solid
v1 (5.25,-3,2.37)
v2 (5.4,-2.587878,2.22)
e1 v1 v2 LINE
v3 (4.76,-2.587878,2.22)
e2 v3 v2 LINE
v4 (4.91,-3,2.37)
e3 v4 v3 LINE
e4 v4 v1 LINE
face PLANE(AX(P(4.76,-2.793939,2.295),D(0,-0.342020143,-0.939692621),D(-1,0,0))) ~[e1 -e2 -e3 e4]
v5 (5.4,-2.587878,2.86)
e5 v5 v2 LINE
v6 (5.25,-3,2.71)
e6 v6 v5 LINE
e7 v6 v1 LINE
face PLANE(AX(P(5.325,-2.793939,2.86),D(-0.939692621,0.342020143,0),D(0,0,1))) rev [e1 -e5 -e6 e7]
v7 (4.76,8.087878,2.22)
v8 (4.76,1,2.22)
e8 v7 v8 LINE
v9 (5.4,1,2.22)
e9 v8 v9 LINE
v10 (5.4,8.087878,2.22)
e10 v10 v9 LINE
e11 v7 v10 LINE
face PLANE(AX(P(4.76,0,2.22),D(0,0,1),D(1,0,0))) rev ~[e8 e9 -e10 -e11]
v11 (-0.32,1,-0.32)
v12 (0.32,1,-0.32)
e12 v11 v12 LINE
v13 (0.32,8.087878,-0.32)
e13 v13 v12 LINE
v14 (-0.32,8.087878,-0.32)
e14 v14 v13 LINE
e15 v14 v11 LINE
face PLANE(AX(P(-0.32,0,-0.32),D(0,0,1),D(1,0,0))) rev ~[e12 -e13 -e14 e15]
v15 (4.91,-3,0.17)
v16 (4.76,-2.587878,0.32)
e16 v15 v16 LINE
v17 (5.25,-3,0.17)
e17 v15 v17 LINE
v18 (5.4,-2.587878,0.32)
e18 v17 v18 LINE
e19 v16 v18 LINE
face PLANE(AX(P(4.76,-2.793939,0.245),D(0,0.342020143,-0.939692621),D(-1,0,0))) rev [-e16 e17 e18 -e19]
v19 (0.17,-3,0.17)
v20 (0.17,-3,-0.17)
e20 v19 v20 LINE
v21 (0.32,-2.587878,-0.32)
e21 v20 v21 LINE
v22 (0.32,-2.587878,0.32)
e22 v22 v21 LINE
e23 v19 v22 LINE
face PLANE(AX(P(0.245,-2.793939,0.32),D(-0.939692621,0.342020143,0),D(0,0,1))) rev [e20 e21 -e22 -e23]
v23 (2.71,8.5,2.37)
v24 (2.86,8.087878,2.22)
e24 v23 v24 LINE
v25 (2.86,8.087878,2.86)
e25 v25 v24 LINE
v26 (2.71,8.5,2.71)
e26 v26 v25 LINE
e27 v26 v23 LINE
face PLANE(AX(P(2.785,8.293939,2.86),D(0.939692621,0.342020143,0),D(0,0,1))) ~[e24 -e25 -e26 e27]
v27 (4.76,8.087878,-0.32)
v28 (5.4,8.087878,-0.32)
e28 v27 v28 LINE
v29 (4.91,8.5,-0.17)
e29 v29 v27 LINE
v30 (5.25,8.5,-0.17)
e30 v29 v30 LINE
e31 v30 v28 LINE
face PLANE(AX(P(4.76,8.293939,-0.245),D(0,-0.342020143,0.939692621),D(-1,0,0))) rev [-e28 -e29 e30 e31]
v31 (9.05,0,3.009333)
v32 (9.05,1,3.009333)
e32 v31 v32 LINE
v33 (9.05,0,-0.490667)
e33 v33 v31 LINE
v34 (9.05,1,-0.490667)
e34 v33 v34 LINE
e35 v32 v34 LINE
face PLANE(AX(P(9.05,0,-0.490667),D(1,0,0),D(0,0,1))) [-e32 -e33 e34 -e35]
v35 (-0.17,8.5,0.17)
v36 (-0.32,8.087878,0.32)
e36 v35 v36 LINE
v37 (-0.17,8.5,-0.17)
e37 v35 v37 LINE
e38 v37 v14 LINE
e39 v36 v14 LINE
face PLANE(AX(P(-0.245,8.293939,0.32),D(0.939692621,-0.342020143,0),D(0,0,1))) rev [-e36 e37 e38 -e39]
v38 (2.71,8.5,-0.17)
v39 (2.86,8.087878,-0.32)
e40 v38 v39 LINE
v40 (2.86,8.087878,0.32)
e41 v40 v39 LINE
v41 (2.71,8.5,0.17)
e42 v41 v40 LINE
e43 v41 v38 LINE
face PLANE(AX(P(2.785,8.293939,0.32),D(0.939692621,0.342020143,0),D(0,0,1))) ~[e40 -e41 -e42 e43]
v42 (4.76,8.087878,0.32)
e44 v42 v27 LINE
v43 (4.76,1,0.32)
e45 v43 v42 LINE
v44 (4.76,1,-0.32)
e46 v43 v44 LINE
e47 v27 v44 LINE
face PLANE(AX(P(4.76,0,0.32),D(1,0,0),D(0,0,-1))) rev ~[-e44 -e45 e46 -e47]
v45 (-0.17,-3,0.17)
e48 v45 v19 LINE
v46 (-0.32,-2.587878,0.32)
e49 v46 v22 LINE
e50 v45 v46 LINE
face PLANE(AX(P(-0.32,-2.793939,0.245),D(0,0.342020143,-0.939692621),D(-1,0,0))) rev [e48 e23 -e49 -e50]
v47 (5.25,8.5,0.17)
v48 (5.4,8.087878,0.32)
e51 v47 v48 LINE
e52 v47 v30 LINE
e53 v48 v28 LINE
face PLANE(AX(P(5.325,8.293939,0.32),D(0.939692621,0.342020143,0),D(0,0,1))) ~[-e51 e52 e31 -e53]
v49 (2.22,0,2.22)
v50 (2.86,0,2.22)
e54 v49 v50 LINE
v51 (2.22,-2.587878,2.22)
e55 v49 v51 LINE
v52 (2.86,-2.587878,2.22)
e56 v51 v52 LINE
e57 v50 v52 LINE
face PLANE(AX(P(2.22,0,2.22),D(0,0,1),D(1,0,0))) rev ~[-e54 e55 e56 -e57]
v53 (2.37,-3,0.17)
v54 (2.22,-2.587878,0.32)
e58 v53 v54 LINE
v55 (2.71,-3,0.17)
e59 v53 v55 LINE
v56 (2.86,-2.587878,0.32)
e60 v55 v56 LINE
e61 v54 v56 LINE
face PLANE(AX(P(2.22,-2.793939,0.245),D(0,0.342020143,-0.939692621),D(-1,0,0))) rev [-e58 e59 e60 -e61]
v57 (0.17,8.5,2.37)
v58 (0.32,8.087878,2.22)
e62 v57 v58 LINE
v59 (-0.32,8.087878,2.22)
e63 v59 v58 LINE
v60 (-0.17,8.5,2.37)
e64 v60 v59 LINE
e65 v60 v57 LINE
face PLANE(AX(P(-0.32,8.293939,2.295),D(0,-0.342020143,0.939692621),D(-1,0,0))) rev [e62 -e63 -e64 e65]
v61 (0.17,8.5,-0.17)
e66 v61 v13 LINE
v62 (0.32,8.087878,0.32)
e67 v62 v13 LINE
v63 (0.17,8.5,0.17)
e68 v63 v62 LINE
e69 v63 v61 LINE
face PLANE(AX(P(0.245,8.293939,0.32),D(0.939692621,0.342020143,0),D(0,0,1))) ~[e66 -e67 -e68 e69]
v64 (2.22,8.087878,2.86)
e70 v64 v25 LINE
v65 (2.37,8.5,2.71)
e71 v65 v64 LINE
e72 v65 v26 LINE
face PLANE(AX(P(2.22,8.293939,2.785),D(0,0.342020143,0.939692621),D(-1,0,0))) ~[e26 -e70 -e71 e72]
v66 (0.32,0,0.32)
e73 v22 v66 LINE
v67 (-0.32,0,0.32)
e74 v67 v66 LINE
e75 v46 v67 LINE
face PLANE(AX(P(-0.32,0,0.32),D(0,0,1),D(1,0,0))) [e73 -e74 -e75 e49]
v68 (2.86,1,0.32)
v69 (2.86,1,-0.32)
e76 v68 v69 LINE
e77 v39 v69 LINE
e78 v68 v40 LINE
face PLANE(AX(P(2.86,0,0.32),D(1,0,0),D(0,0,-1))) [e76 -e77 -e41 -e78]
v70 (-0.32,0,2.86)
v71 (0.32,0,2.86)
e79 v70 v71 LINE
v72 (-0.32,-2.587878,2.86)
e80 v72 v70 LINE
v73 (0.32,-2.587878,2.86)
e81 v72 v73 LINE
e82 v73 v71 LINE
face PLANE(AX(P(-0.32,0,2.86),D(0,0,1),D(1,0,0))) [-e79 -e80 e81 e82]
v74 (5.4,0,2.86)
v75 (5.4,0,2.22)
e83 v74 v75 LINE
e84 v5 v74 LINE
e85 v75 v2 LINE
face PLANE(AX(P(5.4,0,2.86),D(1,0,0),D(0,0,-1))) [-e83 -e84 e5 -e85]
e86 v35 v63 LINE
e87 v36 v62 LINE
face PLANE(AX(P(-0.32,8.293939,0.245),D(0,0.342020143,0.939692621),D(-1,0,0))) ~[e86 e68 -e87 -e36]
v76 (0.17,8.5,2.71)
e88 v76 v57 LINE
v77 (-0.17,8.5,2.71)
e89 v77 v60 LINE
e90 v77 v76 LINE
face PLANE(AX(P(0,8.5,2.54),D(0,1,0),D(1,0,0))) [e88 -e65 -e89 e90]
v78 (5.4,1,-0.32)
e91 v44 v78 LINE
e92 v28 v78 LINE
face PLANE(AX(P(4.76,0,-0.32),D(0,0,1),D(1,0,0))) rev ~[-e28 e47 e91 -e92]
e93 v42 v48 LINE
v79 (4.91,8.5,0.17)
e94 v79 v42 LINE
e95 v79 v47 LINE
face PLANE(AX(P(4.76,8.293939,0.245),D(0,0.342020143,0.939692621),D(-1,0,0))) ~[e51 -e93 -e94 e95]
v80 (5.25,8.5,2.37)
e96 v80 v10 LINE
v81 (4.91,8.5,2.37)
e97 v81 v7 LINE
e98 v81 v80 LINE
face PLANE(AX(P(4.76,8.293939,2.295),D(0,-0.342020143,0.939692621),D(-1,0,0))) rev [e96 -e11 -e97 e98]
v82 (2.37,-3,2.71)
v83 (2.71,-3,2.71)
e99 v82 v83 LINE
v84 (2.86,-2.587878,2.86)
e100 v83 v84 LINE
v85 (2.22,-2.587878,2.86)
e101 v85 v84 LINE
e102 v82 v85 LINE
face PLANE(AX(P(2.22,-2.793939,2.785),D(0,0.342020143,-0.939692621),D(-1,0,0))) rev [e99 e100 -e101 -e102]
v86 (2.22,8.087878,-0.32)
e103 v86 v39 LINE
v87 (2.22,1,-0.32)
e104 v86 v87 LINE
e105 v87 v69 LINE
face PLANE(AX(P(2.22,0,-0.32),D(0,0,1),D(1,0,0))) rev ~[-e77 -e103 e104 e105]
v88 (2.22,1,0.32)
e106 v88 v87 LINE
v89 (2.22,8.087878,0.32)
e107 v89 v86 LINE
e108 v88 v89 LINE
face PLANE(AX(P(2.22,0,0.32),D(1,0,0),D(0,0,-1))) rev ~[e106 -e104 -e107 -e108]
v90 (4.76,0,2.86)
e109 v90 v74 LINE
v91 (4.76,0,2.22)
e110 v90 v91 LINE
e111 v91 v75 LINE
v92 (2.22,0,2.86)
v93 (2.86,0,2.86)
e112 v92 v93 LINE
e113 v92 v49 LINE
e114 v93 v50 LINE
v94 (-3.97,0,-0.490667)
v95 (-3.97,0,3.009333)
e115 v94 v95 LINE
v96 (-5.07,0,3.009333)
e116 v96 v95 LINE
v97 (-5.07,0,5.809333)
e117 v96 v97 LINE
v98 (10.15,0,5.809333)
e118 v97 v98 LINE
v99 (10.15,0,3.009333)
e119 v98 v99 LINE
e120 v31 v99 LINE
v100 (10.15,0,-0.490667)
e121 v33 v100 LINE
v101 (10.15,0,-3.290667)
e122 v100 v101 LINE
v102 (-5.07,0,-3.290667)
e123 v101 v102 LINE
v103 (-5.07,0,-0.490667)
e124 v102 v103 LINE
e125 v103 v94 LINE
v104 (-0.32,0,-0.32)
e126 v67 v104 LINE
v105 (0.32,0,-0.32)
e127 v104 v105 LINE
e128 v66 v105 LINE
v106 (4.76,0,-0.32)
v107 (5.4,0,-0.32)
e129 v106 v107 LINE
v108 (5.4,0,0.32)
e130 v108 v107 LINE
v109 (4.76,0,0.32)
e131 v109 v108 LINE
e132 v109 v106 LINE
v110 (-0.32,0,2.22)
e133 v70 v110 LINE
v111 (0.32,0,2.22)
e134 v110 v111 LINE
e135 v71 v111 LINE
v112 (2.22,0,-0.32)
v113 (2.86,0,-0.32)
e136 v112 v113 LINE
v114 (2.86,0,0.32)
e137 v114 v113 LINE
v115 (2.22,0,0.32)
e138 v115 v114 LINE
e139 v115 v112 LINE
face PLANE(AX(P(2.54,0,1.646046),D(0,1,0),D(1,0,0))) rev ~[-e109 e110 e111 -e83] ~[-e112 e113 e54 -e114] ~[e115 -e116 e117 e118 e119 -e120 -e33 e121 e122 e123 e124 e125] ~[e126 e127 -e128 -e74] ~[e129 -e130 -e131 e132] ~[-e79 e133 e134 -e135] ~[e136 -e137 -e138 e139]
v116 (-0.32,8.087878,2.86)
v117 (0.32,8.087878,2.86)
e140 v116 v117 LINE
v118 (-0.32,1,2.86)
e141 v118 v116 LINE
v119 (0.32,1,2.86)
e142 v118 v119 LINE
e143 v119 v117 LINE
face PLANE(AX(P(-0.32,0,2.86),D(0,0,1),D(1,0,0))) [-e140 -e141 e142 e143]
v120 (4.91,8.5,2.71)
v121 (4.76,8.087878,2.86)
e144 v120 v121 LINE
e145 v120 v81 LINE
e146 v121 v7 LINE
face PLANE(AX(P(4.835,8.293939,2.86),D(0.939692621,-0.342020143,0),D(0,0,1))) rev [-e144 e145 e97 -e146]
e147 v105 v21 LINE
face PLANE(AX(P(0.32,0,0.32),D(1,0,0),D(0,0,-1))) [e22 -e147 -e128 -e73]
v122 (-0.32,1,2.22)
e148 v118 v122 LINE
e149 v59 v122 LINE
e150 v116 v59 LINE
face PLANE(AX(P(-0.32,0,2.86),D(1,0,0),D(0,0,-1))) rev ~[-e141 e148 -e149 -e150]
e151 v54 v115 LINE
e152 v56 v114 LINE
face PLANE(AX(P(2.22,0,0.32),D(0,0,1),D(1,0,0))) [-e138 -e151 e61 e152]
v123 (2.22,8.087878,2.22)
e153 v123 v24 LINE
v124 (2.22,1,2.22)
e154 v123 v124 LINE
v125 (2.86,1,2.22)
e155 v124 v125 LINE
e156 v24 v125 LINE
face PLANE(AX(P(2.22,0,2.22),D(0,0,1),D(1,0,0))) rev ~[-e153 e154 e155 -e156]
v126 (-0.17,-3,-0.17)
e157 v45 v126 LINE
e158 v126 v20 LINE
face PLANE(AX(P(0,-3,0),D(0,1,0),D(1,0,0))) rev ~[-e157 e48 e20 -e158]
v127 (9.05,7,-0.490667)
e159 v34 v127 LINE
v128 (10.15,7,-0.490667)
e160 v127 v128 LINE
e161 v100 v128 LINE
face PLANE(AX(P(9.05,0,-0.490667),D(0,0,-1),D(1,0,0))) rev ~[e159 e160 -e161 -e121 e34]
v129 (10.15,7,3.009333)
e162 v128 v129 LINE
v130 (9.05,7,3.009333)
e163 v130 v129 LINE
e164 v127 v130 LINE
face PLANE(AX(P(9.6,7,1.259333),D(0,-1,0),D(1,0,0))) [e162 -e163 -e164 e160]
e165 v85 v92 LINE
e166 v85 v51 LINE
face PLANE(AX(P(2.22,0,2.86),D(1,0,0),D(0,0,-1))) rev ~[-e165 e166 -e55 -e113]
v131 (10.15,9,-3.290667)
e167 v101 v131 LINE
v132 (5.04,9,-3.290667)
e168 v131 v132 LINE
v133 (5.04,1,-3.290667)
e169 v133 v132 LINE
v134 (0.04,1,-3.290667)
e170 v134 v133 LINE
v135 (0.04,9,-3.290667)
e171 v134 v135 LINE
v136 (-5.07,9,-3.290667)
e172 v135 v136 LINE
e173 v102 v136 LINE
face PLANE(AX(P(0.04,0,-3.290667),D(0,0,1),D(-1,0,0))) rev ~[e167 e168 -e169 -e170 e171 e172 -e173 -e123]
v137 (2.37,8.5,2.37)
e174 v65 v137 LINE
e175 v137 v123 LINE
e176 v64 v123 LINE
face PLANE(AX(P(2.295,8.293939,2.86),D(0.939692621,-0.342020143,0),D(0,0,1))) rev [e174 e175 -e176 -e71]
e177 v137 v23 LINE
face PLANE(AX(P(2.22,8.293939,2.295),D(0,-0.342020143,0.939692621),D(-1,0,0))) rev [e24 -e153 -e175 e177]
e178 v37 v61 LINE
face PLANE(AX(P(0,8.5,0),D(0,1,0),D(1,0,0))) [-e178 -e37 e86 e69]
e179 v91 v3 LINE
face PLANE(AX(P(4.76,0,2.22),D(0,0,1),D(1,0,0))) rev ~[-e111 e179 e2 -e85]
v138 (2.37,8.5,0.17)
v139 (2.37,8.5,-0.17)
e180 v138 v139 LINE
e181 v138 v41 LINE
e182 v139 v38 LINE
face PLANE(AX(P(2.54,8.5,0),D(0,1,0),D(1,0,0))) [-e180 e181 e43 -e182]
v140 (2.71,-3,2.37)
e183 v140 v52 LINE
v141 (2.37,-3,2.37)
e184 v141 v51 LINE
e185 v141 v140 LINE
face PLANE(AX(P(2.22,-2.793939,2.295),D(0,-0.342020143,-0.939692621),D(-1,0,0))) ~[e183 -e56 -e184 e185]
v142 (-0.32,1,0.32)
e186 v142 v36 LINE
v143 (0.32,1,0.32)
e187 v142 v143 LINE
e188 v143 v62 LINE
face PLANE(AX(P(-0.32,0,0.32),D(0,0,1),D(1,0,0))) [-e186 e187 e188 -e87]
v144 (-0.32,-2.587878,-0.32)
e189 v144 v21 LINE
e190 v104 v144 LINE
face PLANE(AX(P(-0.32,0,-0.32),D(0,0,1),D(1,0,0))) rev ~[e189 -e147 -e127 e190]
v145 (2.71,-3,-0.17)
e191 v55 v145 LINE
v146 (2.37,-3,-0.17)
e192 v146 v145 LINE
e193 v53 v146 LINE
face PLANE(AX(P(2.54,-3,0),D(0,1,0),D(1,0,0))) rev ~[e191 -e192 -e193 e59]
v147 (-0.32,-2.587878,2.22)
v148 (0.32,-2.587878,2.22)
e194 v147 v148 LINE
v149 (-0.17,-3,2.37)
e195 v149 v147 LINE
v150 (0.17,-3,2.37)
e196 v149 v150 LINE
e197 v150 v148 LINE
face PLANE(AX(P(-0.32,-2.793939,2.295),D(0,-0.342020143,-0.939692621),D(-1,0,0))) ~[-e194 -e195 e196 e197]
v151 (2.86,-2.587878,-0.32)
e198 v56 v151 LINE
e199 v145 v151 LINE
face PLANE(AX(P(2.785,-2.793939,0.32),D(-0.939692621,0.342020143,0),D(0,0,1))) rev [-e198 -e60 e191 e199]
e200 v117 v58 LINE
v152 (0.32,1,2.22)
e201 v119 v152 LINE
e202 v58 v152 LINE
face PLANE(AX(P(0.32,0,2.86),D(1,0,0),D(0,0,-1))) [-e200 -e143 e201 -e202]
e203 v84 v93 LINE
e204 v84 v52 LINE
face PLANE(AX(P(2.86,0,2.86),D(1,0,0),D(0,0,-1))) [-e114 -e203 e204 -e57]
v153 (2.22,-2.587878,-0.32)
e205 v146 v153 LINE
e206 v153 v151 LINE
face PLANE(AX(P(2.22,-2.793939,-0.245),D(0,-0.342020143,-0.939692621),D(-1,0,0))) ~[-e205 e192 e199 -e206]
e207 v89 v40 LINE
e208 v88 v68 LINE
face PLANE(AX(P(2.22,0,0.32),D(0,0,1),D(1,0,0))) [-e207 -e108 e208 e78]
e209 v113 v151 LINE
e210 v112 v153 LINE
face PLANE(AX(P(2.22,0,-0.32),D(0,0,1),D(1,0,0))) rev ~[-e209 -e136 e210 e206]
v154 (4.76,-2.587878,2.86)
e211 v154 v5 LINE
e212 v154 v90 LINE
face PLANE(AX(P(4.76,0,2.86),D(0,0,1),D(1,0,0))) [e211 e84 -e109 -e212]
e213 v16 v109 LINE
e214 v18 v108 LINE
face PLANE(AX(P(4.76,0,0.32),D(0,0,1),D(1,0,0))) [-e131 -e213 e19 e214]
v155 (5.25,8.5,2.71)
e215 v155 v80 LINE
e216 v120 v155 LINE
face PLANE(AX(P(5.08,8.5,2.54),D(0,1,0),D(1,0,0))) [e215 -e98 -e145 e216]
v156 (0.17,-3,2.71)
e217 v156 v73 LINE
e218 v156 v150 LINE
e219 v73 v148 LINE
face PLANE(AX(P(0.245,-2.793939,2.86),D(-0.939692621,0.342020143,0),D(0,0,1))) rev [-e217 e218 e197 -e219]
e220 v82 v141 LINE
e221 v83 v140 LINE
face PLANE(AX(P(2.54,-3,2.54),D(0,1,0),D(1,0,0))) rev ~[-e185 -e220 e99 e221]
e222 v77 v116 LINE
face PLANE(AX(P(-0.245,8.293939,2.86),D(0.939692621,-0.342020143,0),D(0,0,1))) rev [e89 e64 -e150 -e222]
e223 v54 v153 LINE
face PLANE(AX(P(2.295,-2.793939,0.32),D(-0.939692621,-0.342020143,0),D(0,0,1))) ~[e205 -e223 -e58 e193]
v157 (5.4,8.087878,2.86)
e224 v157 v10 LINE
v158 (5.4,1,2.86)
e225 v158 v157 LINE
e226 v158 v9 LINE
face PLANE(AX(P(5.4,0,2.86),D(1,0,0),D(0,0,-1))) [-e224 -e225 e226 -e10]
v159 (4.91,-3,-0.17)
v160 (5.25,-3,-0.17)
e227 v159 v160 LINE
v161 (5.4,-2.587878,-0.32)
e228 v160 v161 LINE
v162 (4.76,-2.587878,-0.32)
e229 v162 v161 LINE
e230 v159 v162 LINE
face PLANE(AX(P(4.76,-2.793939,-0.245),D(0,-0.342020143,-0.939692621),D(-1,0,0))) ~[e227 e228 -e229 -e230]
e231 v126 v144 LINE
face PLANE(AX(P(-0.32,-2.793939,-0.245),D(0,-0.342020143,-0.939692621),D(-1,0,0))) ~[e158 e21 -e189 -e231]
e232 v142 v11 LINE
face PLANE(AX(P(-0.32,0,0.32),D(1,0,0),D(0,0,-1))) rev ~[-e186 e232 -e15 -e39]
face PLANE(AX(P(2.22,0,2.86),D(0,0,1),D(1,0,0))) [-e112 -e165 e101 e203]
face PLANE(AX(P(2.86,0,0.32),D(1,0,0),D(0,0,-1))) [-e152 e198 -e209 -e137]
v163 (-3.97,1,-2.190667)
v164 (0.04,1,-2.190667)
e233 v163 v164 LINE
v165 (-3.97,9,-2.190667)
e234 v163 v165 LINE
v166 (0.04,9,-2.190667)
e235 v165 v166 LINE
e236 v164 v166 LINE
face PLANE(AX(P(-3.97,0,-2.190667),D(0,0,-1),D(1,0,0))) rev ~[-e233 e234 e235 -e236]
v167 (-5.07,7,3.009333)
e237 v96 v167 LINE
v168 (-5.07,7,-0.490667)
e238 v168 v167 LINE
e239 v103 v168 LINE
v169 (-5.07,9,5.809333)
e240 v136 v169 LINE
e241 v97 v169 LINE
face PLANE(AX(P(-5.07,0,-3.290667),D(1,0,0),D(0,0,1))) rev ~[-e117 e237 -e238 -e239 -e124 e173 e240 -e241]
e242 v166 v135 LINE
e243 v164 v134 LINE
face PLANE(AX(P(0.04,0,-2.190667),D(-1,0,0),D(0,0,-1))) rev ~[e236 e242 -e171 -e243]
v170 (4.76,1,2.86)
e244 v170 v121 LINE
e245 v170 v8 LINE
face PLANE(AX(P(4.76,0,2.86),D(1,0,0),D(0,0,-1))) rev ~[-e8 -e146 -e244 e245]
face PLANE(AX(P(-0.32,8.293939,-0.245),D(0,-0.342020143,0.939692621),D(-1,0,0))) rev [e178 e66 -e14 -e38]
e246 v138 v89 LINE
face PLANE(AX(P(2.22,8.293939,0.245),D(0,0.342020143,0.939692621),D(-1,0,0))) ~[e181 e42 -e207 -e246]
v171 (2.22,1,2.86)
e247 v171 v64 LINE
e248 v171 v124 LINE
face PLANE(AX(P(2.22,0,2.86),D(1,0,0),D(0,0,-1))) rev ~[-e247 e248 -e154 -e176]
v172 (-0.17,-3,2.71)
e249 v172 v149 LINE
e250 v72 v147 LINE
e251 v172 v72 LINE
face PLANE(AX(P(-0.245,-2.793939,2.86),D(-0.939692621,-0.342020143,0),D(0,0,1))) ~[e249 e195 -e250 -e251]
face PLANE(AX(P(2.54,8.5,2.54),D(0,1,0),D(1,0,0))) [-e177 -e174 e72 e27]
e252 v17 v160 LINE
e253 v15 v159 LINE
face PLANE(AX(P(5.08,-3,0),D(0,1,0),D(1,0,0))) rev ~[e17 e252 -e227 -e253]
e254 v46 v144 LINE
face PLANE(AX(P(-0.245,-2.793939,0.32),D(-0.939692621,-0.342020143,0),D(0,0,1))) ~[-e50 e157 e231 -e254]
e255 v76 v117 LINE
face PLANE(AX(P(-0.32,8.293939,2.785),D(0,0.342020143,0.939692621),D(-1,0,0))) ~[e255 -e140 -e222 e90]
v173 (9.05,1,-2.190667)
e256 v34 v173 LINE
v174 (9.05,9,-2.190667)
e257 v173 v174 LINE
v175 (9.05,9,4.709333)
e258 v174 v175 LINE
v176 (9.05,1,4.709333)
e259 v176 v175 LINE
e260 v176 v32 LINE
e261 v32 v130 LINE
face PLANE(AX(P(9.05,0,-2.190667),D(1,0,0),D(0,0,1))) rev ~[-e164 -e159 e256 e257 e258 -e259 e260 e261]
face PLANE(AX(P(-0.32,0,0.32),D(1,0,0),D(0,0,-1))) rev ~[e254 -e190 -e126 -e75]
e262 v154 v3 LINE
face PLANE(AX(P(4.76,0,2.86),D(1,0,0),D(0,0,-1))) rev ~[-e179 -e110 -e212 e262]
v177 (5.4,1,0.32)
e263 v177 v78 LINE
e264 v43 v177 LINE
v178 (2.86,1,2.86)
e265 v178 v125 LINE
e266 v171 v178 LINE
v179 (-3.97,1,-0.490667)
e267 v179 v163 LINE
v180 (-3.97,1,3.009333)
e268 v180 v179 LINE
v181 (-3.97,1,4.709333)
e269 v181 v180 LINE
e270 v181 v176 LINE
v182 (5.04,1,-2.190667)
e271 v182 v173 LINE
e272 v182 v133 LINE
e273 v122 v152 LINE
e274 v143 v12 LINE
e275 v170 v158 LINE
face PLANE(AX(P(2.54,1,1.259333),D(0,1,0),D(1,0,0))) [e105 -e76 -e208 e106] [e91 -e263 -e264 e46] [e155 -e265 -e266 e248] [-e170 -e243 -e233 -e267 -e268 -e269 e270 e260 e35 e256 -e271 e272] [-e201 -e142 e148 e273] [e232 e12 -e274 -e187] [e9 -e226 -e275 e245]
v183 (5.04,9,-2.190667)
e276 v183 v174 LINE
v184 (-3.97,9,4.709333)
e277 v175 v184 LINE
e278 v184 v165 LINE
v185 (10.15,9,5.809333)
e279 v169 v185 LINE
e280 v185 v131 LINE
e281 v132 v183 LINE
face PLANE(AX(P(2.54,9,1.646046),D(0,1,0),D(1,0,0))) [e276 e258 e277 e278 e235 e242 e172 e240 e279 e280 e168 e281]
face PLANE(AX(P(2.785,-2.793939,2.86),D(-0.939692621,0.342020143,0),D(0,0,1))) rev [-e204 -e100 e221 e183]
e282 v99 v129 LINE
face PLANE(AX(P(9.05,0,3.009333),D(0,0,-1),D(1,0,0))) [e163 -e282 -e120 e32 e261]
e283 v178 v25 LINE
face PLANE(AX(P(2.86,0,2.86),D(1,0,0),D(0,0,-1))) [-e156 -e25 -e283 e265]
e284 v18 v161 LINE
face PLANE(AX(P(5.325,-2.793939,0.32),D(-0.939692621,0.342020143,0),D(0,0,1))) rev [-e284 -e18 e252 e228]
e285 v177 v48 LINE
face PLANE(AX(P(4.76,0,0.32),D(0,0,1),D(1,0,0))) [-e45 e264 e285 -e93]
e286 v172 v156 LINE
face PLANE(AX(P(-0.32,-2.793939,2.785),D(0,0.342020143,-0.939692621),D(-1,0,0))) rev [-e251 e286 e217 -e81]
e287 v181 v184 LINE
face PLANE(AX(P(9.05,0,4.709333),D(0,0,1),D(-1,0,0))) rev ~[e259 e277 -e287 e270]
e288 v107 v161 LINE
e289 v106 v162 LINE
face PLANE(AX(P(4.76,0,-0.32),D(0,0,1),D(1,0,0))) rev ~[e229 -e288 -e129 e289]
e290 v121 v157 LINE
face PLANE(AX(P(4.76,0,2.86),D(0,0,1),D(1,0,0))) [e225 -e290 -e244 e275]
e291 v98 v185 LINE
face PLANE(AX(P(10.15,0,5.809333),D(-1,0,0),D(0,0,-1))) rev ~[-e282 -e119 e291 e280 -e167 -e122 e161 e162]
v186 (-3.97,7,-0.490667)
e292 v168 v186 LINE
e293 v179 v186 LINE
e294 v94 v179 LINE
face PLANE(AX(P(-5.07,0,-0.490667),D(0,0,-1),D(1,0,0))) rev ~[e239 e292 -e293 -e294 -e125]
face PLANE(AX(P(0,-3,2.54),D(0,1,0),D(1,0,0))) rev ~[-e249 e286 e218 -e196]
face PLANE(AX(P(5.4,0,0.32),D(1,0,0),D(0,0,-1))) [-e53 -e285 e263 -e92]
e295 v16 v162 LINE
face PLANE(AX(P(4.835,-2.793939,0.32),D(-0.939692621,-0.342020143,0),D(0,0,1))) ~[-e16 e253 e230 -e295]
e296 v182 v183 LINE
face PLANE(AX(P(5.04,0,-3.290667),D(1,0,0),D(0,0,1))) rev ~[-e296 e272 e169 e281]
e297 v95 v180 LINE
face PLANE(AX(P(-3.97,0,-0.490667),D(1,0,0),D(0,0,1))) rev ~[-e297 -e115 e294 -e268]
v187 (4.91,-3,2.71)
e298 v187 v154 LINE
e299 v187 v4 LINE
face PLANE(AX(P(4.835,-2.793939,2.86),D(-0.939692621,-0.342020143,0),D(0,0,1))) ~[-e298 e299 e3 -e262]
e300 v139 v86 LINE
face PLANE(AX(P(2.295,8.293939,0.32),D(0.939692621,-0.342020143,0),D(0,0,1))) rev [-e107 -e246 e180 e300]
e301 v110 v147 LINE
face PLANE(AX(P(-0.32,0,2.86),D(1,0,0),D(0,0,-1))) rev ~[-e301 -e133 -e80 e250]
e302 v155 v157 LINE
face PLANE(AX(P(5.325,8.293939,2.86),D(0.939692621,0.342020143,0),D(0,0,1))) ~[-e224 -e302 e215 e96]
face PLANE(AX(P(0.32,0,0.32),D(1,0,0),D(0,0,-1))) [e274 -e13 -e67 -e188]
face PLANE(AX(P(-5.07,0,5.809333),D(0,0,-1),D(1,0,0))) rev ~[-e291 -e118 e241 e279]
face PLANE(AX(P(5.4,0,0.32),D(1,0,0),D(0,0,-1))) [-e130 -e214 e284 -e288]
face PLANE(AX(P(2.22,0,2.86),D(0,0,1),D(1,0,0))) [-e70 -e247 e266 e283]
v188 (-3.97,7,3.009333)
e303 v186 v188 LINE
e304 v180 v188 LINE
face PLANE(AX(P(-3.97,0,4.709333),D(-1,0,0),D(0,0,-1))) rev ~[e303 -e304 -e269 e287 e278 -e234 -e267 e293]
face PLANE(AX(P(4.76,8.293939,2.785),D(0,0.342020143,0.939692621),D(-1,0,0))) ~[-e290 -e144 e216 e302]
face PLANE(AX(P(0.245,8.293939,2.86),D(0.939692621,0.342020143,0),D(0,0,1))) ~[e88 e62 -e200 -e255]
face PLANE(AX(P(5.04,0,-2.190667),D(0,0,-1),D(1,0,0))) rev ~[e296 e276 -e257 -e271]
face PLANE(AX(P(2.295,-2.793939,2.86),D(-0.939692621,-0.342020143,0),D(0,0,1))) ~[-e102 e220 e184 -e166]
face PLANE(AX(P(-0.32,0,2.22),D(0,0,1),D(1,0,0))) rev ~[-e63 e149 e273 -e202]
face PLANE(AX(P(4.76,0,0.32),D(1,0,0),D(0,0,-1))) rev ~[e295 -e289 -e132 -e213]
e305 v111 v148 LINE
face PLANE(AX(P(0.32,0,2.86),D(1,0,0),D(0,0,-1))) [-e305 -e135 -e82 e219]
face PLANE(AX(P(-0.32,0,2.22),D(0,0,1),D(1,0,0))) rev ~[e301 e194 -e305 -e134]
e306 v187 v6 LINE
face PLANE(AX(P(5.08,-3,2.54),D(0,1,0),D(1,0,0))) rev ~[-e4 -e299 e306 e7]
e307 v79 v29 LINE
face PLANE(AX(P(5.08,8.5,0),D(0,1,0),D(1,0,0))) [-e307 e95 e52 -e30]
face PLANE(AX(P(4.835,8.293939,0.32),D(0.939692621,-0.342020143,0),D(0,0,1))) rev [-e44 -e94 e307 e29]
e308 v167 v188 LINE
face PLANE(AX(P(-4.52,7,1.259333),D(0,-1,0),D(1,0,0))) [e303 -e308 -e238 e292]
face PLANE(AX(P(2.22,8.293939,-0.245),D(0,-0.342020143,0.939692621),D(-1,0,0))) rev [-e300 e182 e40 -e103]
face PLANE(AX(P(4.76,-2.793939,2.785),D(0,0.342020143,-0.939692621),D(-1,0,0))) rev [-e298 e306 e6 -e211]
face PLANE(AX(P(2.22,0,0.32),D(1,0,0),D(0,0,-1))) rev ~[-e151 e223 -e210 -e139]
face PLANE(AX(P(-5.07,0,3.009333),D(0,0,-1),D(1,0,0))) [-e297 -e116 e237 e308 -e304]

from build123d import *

# Parameters (mm, degrees)
SKETCH_1_W               = 0.64
SKETCH_1_H               = 0.64
EXTRUDE_1_DEPTH          = 8.5
EXTRUDE_1_DEPTH_BACK     = 3
CHAMFER_1_SIZE           = 0.15
CHAMFER_1_SIZE2          = 0.412121613
CHAMFER_1_PART_2_SIZE    = 0.15
CHAMFER_1_PART_2_SIZE2   = 0.412121613
PATTERN_LINEAR_1_COUNT   = 3
PATTERN_LINEAR_1_PITCH   = 2.54
PATTERN_LINEAR_1_2_COUNT = 2
PATTERN_LINEAR_1_2_PITCH = 2.54
SKETCH_2_W               = 13.02
SKETCH_2_H               = 6.9
SKETCH_2_W_2             = 0.64
SKETCH_2_H_2             = 0.64
SKETCH_2_W_3             = 5
SKETCH_2_H_3             = 1.1
EXTRUDE_2_DEPTH          = 1
EXTRUDE_3_DEPTH          = 9
SKETCH_3_W               = 1.1
SKETCH_3_H               = 3.5
CUT_EXTRUDE_2_DEPTH      = 7


with BuildPart() as part:
    # Эскиз1 → Бобышка-Вытянуть1 (new body, two sides)
    with BuildSketch(Plane(origin=(0, 0, 0), x_dir=(1, 0, 0), z_dir=(0, 1, 0))) as extrude_1_sk:
        Rectangle(SKETCH_1_W, SKETCH_1_H)
    extrude(amount=EXTRUDE_1_DEPTH)
    extrude(extrude_1_sk.sketch, amount=-EXTRUDE_1_DEPTH_BACK)

    # Фаска1
    chamfer_1_edges = [part.edges().sort_by_distance(p)[0] for p in [
        (0.32, -3, 0),
        (0, -3, 0.32),
        (-0.32, -3, 0),
        (0, -3, -0.32),
    ]]
    chamfer_1_side = [part.faces().sort_by_distance(p)[0] for p in [
        (0, -3, 0),
    ]]
    chamfer(chamfer_1_edges, length=CHAMFER_1_SIZE, length2=CHAMFER_1_SIZE2, reference=chamfer_1_side[0])

    # Фаска1 part 2
    chamfer_1_part_2_edges = [part.edges().sort_by_distance(p)[0] for p in [
        (-0.32, 8.5, 0),
        (0, 8.5, -0.32),
        (0, 8.5, 0.32),
        (0.32, 8.5, 0),
    ]]
    chamfer_1_part_2_side = [part.faces().sort_by_distance(p)[0] for p in [
        (0, 8.5, 0),
    ]]
    chamfer(chamfer_1_part_2_edges, length=CHAMFER_1_PART_2_SIZE, length2=CHAMFER_1_PART_2_SIZE2, reference=chamfer_1_part_2_side[0])


with BuildPart() as pattern_linear_1_1:
    # Линейный массив1: pattern copy
    add(part.part.moved(Location(Vector(1, 0, 0) * (1 * PATTERN_LINEAR_1_PITCH))))


with BuildPart() as pattern_linear_1_2:
    # Линейный массив1: pattern copy
    add(part.part.moved(Location(Vector(1, 0, 0) * (2 * PATTERN_LINEAR_1_PITCH))))


with BuildPart() as pattern_linear_1_2_1:
    # Pattern Linear 1 2: pattern copy
    add(part.part.moved(Location(Vector(0, 0, 1) * (1 * PATTERN_LINEAR_1_2_PITCH))))


with BuildPart() as pattern_linear_1_2_2:
    # Pattern Linear 1 2: pattern copy
    add(pattern_linear_1_1.part.moved(Location(Vector(0, 0, 1) * (1 * PATTERN_LINEAR_1_2_PITCH))))


with BuildPart() as pattern_linear_1_2_3:
    # Pattern Linear 1 2: pattern copy
    add(pattern_linear_1_2.part.moved(Location(Vector(0, 0, 1) * (1 * PATTERN_LINEAR_1_2_PITCH))))


with BuildPart() as part_1:
    add(part.part)

    add(pattern_linear_1_1.part)  # Бобышка-Вытянуть2 merges Линейный массив1_1

    add(pattern_linear_1_2.part)  # Бобышка-Вытянуть2 merges Линейный массив1_2

    add(pattern_linear_1_2_1.part)  # Бобышка-Вытянуть2 merges Линейный массив1 2_1

    add(pattern_linear_1_2_2.part)  # Бобышка-Вытянуть2 merges Линейный массив1 2_2

    add(pattern_linear_1_2_3.part)  # Бобышка-Вытянуть2 merges Линейный массив1 2_3
    # Эскиз2 → Бобышка-Вытянуть2 (add)
    with BuildSketch(Plane(origin=(0, 0, 0), x_dir=(1, 0, 0), z_dir=(0, 1, 0))):
        with Locations((2.54, -1.259333449)):
            Rectangle(SKETCH_2_W, SKETCH_2_H)
        with Locations((0, -2.54)):
            Rectangle(SKETCH_2_W_2, SKETCH_2_H_2, mode=Mode.SUBTRACT)
        with Locations((5.08, -2.54)):
            Rectangle(SKETCH_2_W_2, SKETCH_2_H_2, mode=Mode.SUBTRACT)
        with Locations((2.54, -2.54)):
            Rectangle(SKETCH_2_W_2, SKETCH_2_H_2, mode=Mode.SUBTRACT)
        with Locations((5.08, 0)):
            Rectangle(SKETCH_2_W_2, SKETCH_2_H_2, mode=Mode.SUBTRACT)
        with Locations((2.54, 0)):
            Rectangle(SKETCH_2_W_2, SKETCH_2_H_2, mode=Mode.SUBTRACT)
        Rectangle(SKETCH_2_W_2, SKETCH_2_H_2, mode=Mode.SUBTRACT)
        with Locations((2.54, 2.740666551)):
            Rectangle(SKETCH_2_W_3, SKETCH_2_H_3)
    extrude(amount=EXTRUDE_2_DEPTH)

    # Эскиз2<3> → Бобышка-Вытянуть3 (add)
    with BuildSketch(Plane(origin=(0, 0, 0), x_dir=(1, 0, 0), z_dir=(0, 1, 0))):
        Polygon((-5.07, 3.290666551), (-5.07, -5.809333449), (10.15, -5.809333449), (10.15, 3.290666551), (5.04, 3.290666551), (5.04, 2.190666551), (9.05, 2.190666551), (9.05, -4.709333449), (-3.97, -4.709333449), (-3.97, 2.190666551), (0.04, 2.190666551), (0.04, 3.290666551), align=None)
    extrude(amount=EXTRUDE_3_DEPTH)

    # Эскиз3 → Вырез-Вытянуть2 (cut)
    with BuildSketch(Plane.XZ):
        with Locations((-4.52, 1.259333449)):
            Rectangle(SKETCH_3_W, SKETCH_3_H)
        with Locations((9.6, 1.259333449)):
            Rectangle(SKETCH_3_W, SKETCH_3_H)
    extrude(amount=-CUT_EXTRUDE_2_DEPTH, mode=Mode.SUBTRACT)


solid = part_1.part
